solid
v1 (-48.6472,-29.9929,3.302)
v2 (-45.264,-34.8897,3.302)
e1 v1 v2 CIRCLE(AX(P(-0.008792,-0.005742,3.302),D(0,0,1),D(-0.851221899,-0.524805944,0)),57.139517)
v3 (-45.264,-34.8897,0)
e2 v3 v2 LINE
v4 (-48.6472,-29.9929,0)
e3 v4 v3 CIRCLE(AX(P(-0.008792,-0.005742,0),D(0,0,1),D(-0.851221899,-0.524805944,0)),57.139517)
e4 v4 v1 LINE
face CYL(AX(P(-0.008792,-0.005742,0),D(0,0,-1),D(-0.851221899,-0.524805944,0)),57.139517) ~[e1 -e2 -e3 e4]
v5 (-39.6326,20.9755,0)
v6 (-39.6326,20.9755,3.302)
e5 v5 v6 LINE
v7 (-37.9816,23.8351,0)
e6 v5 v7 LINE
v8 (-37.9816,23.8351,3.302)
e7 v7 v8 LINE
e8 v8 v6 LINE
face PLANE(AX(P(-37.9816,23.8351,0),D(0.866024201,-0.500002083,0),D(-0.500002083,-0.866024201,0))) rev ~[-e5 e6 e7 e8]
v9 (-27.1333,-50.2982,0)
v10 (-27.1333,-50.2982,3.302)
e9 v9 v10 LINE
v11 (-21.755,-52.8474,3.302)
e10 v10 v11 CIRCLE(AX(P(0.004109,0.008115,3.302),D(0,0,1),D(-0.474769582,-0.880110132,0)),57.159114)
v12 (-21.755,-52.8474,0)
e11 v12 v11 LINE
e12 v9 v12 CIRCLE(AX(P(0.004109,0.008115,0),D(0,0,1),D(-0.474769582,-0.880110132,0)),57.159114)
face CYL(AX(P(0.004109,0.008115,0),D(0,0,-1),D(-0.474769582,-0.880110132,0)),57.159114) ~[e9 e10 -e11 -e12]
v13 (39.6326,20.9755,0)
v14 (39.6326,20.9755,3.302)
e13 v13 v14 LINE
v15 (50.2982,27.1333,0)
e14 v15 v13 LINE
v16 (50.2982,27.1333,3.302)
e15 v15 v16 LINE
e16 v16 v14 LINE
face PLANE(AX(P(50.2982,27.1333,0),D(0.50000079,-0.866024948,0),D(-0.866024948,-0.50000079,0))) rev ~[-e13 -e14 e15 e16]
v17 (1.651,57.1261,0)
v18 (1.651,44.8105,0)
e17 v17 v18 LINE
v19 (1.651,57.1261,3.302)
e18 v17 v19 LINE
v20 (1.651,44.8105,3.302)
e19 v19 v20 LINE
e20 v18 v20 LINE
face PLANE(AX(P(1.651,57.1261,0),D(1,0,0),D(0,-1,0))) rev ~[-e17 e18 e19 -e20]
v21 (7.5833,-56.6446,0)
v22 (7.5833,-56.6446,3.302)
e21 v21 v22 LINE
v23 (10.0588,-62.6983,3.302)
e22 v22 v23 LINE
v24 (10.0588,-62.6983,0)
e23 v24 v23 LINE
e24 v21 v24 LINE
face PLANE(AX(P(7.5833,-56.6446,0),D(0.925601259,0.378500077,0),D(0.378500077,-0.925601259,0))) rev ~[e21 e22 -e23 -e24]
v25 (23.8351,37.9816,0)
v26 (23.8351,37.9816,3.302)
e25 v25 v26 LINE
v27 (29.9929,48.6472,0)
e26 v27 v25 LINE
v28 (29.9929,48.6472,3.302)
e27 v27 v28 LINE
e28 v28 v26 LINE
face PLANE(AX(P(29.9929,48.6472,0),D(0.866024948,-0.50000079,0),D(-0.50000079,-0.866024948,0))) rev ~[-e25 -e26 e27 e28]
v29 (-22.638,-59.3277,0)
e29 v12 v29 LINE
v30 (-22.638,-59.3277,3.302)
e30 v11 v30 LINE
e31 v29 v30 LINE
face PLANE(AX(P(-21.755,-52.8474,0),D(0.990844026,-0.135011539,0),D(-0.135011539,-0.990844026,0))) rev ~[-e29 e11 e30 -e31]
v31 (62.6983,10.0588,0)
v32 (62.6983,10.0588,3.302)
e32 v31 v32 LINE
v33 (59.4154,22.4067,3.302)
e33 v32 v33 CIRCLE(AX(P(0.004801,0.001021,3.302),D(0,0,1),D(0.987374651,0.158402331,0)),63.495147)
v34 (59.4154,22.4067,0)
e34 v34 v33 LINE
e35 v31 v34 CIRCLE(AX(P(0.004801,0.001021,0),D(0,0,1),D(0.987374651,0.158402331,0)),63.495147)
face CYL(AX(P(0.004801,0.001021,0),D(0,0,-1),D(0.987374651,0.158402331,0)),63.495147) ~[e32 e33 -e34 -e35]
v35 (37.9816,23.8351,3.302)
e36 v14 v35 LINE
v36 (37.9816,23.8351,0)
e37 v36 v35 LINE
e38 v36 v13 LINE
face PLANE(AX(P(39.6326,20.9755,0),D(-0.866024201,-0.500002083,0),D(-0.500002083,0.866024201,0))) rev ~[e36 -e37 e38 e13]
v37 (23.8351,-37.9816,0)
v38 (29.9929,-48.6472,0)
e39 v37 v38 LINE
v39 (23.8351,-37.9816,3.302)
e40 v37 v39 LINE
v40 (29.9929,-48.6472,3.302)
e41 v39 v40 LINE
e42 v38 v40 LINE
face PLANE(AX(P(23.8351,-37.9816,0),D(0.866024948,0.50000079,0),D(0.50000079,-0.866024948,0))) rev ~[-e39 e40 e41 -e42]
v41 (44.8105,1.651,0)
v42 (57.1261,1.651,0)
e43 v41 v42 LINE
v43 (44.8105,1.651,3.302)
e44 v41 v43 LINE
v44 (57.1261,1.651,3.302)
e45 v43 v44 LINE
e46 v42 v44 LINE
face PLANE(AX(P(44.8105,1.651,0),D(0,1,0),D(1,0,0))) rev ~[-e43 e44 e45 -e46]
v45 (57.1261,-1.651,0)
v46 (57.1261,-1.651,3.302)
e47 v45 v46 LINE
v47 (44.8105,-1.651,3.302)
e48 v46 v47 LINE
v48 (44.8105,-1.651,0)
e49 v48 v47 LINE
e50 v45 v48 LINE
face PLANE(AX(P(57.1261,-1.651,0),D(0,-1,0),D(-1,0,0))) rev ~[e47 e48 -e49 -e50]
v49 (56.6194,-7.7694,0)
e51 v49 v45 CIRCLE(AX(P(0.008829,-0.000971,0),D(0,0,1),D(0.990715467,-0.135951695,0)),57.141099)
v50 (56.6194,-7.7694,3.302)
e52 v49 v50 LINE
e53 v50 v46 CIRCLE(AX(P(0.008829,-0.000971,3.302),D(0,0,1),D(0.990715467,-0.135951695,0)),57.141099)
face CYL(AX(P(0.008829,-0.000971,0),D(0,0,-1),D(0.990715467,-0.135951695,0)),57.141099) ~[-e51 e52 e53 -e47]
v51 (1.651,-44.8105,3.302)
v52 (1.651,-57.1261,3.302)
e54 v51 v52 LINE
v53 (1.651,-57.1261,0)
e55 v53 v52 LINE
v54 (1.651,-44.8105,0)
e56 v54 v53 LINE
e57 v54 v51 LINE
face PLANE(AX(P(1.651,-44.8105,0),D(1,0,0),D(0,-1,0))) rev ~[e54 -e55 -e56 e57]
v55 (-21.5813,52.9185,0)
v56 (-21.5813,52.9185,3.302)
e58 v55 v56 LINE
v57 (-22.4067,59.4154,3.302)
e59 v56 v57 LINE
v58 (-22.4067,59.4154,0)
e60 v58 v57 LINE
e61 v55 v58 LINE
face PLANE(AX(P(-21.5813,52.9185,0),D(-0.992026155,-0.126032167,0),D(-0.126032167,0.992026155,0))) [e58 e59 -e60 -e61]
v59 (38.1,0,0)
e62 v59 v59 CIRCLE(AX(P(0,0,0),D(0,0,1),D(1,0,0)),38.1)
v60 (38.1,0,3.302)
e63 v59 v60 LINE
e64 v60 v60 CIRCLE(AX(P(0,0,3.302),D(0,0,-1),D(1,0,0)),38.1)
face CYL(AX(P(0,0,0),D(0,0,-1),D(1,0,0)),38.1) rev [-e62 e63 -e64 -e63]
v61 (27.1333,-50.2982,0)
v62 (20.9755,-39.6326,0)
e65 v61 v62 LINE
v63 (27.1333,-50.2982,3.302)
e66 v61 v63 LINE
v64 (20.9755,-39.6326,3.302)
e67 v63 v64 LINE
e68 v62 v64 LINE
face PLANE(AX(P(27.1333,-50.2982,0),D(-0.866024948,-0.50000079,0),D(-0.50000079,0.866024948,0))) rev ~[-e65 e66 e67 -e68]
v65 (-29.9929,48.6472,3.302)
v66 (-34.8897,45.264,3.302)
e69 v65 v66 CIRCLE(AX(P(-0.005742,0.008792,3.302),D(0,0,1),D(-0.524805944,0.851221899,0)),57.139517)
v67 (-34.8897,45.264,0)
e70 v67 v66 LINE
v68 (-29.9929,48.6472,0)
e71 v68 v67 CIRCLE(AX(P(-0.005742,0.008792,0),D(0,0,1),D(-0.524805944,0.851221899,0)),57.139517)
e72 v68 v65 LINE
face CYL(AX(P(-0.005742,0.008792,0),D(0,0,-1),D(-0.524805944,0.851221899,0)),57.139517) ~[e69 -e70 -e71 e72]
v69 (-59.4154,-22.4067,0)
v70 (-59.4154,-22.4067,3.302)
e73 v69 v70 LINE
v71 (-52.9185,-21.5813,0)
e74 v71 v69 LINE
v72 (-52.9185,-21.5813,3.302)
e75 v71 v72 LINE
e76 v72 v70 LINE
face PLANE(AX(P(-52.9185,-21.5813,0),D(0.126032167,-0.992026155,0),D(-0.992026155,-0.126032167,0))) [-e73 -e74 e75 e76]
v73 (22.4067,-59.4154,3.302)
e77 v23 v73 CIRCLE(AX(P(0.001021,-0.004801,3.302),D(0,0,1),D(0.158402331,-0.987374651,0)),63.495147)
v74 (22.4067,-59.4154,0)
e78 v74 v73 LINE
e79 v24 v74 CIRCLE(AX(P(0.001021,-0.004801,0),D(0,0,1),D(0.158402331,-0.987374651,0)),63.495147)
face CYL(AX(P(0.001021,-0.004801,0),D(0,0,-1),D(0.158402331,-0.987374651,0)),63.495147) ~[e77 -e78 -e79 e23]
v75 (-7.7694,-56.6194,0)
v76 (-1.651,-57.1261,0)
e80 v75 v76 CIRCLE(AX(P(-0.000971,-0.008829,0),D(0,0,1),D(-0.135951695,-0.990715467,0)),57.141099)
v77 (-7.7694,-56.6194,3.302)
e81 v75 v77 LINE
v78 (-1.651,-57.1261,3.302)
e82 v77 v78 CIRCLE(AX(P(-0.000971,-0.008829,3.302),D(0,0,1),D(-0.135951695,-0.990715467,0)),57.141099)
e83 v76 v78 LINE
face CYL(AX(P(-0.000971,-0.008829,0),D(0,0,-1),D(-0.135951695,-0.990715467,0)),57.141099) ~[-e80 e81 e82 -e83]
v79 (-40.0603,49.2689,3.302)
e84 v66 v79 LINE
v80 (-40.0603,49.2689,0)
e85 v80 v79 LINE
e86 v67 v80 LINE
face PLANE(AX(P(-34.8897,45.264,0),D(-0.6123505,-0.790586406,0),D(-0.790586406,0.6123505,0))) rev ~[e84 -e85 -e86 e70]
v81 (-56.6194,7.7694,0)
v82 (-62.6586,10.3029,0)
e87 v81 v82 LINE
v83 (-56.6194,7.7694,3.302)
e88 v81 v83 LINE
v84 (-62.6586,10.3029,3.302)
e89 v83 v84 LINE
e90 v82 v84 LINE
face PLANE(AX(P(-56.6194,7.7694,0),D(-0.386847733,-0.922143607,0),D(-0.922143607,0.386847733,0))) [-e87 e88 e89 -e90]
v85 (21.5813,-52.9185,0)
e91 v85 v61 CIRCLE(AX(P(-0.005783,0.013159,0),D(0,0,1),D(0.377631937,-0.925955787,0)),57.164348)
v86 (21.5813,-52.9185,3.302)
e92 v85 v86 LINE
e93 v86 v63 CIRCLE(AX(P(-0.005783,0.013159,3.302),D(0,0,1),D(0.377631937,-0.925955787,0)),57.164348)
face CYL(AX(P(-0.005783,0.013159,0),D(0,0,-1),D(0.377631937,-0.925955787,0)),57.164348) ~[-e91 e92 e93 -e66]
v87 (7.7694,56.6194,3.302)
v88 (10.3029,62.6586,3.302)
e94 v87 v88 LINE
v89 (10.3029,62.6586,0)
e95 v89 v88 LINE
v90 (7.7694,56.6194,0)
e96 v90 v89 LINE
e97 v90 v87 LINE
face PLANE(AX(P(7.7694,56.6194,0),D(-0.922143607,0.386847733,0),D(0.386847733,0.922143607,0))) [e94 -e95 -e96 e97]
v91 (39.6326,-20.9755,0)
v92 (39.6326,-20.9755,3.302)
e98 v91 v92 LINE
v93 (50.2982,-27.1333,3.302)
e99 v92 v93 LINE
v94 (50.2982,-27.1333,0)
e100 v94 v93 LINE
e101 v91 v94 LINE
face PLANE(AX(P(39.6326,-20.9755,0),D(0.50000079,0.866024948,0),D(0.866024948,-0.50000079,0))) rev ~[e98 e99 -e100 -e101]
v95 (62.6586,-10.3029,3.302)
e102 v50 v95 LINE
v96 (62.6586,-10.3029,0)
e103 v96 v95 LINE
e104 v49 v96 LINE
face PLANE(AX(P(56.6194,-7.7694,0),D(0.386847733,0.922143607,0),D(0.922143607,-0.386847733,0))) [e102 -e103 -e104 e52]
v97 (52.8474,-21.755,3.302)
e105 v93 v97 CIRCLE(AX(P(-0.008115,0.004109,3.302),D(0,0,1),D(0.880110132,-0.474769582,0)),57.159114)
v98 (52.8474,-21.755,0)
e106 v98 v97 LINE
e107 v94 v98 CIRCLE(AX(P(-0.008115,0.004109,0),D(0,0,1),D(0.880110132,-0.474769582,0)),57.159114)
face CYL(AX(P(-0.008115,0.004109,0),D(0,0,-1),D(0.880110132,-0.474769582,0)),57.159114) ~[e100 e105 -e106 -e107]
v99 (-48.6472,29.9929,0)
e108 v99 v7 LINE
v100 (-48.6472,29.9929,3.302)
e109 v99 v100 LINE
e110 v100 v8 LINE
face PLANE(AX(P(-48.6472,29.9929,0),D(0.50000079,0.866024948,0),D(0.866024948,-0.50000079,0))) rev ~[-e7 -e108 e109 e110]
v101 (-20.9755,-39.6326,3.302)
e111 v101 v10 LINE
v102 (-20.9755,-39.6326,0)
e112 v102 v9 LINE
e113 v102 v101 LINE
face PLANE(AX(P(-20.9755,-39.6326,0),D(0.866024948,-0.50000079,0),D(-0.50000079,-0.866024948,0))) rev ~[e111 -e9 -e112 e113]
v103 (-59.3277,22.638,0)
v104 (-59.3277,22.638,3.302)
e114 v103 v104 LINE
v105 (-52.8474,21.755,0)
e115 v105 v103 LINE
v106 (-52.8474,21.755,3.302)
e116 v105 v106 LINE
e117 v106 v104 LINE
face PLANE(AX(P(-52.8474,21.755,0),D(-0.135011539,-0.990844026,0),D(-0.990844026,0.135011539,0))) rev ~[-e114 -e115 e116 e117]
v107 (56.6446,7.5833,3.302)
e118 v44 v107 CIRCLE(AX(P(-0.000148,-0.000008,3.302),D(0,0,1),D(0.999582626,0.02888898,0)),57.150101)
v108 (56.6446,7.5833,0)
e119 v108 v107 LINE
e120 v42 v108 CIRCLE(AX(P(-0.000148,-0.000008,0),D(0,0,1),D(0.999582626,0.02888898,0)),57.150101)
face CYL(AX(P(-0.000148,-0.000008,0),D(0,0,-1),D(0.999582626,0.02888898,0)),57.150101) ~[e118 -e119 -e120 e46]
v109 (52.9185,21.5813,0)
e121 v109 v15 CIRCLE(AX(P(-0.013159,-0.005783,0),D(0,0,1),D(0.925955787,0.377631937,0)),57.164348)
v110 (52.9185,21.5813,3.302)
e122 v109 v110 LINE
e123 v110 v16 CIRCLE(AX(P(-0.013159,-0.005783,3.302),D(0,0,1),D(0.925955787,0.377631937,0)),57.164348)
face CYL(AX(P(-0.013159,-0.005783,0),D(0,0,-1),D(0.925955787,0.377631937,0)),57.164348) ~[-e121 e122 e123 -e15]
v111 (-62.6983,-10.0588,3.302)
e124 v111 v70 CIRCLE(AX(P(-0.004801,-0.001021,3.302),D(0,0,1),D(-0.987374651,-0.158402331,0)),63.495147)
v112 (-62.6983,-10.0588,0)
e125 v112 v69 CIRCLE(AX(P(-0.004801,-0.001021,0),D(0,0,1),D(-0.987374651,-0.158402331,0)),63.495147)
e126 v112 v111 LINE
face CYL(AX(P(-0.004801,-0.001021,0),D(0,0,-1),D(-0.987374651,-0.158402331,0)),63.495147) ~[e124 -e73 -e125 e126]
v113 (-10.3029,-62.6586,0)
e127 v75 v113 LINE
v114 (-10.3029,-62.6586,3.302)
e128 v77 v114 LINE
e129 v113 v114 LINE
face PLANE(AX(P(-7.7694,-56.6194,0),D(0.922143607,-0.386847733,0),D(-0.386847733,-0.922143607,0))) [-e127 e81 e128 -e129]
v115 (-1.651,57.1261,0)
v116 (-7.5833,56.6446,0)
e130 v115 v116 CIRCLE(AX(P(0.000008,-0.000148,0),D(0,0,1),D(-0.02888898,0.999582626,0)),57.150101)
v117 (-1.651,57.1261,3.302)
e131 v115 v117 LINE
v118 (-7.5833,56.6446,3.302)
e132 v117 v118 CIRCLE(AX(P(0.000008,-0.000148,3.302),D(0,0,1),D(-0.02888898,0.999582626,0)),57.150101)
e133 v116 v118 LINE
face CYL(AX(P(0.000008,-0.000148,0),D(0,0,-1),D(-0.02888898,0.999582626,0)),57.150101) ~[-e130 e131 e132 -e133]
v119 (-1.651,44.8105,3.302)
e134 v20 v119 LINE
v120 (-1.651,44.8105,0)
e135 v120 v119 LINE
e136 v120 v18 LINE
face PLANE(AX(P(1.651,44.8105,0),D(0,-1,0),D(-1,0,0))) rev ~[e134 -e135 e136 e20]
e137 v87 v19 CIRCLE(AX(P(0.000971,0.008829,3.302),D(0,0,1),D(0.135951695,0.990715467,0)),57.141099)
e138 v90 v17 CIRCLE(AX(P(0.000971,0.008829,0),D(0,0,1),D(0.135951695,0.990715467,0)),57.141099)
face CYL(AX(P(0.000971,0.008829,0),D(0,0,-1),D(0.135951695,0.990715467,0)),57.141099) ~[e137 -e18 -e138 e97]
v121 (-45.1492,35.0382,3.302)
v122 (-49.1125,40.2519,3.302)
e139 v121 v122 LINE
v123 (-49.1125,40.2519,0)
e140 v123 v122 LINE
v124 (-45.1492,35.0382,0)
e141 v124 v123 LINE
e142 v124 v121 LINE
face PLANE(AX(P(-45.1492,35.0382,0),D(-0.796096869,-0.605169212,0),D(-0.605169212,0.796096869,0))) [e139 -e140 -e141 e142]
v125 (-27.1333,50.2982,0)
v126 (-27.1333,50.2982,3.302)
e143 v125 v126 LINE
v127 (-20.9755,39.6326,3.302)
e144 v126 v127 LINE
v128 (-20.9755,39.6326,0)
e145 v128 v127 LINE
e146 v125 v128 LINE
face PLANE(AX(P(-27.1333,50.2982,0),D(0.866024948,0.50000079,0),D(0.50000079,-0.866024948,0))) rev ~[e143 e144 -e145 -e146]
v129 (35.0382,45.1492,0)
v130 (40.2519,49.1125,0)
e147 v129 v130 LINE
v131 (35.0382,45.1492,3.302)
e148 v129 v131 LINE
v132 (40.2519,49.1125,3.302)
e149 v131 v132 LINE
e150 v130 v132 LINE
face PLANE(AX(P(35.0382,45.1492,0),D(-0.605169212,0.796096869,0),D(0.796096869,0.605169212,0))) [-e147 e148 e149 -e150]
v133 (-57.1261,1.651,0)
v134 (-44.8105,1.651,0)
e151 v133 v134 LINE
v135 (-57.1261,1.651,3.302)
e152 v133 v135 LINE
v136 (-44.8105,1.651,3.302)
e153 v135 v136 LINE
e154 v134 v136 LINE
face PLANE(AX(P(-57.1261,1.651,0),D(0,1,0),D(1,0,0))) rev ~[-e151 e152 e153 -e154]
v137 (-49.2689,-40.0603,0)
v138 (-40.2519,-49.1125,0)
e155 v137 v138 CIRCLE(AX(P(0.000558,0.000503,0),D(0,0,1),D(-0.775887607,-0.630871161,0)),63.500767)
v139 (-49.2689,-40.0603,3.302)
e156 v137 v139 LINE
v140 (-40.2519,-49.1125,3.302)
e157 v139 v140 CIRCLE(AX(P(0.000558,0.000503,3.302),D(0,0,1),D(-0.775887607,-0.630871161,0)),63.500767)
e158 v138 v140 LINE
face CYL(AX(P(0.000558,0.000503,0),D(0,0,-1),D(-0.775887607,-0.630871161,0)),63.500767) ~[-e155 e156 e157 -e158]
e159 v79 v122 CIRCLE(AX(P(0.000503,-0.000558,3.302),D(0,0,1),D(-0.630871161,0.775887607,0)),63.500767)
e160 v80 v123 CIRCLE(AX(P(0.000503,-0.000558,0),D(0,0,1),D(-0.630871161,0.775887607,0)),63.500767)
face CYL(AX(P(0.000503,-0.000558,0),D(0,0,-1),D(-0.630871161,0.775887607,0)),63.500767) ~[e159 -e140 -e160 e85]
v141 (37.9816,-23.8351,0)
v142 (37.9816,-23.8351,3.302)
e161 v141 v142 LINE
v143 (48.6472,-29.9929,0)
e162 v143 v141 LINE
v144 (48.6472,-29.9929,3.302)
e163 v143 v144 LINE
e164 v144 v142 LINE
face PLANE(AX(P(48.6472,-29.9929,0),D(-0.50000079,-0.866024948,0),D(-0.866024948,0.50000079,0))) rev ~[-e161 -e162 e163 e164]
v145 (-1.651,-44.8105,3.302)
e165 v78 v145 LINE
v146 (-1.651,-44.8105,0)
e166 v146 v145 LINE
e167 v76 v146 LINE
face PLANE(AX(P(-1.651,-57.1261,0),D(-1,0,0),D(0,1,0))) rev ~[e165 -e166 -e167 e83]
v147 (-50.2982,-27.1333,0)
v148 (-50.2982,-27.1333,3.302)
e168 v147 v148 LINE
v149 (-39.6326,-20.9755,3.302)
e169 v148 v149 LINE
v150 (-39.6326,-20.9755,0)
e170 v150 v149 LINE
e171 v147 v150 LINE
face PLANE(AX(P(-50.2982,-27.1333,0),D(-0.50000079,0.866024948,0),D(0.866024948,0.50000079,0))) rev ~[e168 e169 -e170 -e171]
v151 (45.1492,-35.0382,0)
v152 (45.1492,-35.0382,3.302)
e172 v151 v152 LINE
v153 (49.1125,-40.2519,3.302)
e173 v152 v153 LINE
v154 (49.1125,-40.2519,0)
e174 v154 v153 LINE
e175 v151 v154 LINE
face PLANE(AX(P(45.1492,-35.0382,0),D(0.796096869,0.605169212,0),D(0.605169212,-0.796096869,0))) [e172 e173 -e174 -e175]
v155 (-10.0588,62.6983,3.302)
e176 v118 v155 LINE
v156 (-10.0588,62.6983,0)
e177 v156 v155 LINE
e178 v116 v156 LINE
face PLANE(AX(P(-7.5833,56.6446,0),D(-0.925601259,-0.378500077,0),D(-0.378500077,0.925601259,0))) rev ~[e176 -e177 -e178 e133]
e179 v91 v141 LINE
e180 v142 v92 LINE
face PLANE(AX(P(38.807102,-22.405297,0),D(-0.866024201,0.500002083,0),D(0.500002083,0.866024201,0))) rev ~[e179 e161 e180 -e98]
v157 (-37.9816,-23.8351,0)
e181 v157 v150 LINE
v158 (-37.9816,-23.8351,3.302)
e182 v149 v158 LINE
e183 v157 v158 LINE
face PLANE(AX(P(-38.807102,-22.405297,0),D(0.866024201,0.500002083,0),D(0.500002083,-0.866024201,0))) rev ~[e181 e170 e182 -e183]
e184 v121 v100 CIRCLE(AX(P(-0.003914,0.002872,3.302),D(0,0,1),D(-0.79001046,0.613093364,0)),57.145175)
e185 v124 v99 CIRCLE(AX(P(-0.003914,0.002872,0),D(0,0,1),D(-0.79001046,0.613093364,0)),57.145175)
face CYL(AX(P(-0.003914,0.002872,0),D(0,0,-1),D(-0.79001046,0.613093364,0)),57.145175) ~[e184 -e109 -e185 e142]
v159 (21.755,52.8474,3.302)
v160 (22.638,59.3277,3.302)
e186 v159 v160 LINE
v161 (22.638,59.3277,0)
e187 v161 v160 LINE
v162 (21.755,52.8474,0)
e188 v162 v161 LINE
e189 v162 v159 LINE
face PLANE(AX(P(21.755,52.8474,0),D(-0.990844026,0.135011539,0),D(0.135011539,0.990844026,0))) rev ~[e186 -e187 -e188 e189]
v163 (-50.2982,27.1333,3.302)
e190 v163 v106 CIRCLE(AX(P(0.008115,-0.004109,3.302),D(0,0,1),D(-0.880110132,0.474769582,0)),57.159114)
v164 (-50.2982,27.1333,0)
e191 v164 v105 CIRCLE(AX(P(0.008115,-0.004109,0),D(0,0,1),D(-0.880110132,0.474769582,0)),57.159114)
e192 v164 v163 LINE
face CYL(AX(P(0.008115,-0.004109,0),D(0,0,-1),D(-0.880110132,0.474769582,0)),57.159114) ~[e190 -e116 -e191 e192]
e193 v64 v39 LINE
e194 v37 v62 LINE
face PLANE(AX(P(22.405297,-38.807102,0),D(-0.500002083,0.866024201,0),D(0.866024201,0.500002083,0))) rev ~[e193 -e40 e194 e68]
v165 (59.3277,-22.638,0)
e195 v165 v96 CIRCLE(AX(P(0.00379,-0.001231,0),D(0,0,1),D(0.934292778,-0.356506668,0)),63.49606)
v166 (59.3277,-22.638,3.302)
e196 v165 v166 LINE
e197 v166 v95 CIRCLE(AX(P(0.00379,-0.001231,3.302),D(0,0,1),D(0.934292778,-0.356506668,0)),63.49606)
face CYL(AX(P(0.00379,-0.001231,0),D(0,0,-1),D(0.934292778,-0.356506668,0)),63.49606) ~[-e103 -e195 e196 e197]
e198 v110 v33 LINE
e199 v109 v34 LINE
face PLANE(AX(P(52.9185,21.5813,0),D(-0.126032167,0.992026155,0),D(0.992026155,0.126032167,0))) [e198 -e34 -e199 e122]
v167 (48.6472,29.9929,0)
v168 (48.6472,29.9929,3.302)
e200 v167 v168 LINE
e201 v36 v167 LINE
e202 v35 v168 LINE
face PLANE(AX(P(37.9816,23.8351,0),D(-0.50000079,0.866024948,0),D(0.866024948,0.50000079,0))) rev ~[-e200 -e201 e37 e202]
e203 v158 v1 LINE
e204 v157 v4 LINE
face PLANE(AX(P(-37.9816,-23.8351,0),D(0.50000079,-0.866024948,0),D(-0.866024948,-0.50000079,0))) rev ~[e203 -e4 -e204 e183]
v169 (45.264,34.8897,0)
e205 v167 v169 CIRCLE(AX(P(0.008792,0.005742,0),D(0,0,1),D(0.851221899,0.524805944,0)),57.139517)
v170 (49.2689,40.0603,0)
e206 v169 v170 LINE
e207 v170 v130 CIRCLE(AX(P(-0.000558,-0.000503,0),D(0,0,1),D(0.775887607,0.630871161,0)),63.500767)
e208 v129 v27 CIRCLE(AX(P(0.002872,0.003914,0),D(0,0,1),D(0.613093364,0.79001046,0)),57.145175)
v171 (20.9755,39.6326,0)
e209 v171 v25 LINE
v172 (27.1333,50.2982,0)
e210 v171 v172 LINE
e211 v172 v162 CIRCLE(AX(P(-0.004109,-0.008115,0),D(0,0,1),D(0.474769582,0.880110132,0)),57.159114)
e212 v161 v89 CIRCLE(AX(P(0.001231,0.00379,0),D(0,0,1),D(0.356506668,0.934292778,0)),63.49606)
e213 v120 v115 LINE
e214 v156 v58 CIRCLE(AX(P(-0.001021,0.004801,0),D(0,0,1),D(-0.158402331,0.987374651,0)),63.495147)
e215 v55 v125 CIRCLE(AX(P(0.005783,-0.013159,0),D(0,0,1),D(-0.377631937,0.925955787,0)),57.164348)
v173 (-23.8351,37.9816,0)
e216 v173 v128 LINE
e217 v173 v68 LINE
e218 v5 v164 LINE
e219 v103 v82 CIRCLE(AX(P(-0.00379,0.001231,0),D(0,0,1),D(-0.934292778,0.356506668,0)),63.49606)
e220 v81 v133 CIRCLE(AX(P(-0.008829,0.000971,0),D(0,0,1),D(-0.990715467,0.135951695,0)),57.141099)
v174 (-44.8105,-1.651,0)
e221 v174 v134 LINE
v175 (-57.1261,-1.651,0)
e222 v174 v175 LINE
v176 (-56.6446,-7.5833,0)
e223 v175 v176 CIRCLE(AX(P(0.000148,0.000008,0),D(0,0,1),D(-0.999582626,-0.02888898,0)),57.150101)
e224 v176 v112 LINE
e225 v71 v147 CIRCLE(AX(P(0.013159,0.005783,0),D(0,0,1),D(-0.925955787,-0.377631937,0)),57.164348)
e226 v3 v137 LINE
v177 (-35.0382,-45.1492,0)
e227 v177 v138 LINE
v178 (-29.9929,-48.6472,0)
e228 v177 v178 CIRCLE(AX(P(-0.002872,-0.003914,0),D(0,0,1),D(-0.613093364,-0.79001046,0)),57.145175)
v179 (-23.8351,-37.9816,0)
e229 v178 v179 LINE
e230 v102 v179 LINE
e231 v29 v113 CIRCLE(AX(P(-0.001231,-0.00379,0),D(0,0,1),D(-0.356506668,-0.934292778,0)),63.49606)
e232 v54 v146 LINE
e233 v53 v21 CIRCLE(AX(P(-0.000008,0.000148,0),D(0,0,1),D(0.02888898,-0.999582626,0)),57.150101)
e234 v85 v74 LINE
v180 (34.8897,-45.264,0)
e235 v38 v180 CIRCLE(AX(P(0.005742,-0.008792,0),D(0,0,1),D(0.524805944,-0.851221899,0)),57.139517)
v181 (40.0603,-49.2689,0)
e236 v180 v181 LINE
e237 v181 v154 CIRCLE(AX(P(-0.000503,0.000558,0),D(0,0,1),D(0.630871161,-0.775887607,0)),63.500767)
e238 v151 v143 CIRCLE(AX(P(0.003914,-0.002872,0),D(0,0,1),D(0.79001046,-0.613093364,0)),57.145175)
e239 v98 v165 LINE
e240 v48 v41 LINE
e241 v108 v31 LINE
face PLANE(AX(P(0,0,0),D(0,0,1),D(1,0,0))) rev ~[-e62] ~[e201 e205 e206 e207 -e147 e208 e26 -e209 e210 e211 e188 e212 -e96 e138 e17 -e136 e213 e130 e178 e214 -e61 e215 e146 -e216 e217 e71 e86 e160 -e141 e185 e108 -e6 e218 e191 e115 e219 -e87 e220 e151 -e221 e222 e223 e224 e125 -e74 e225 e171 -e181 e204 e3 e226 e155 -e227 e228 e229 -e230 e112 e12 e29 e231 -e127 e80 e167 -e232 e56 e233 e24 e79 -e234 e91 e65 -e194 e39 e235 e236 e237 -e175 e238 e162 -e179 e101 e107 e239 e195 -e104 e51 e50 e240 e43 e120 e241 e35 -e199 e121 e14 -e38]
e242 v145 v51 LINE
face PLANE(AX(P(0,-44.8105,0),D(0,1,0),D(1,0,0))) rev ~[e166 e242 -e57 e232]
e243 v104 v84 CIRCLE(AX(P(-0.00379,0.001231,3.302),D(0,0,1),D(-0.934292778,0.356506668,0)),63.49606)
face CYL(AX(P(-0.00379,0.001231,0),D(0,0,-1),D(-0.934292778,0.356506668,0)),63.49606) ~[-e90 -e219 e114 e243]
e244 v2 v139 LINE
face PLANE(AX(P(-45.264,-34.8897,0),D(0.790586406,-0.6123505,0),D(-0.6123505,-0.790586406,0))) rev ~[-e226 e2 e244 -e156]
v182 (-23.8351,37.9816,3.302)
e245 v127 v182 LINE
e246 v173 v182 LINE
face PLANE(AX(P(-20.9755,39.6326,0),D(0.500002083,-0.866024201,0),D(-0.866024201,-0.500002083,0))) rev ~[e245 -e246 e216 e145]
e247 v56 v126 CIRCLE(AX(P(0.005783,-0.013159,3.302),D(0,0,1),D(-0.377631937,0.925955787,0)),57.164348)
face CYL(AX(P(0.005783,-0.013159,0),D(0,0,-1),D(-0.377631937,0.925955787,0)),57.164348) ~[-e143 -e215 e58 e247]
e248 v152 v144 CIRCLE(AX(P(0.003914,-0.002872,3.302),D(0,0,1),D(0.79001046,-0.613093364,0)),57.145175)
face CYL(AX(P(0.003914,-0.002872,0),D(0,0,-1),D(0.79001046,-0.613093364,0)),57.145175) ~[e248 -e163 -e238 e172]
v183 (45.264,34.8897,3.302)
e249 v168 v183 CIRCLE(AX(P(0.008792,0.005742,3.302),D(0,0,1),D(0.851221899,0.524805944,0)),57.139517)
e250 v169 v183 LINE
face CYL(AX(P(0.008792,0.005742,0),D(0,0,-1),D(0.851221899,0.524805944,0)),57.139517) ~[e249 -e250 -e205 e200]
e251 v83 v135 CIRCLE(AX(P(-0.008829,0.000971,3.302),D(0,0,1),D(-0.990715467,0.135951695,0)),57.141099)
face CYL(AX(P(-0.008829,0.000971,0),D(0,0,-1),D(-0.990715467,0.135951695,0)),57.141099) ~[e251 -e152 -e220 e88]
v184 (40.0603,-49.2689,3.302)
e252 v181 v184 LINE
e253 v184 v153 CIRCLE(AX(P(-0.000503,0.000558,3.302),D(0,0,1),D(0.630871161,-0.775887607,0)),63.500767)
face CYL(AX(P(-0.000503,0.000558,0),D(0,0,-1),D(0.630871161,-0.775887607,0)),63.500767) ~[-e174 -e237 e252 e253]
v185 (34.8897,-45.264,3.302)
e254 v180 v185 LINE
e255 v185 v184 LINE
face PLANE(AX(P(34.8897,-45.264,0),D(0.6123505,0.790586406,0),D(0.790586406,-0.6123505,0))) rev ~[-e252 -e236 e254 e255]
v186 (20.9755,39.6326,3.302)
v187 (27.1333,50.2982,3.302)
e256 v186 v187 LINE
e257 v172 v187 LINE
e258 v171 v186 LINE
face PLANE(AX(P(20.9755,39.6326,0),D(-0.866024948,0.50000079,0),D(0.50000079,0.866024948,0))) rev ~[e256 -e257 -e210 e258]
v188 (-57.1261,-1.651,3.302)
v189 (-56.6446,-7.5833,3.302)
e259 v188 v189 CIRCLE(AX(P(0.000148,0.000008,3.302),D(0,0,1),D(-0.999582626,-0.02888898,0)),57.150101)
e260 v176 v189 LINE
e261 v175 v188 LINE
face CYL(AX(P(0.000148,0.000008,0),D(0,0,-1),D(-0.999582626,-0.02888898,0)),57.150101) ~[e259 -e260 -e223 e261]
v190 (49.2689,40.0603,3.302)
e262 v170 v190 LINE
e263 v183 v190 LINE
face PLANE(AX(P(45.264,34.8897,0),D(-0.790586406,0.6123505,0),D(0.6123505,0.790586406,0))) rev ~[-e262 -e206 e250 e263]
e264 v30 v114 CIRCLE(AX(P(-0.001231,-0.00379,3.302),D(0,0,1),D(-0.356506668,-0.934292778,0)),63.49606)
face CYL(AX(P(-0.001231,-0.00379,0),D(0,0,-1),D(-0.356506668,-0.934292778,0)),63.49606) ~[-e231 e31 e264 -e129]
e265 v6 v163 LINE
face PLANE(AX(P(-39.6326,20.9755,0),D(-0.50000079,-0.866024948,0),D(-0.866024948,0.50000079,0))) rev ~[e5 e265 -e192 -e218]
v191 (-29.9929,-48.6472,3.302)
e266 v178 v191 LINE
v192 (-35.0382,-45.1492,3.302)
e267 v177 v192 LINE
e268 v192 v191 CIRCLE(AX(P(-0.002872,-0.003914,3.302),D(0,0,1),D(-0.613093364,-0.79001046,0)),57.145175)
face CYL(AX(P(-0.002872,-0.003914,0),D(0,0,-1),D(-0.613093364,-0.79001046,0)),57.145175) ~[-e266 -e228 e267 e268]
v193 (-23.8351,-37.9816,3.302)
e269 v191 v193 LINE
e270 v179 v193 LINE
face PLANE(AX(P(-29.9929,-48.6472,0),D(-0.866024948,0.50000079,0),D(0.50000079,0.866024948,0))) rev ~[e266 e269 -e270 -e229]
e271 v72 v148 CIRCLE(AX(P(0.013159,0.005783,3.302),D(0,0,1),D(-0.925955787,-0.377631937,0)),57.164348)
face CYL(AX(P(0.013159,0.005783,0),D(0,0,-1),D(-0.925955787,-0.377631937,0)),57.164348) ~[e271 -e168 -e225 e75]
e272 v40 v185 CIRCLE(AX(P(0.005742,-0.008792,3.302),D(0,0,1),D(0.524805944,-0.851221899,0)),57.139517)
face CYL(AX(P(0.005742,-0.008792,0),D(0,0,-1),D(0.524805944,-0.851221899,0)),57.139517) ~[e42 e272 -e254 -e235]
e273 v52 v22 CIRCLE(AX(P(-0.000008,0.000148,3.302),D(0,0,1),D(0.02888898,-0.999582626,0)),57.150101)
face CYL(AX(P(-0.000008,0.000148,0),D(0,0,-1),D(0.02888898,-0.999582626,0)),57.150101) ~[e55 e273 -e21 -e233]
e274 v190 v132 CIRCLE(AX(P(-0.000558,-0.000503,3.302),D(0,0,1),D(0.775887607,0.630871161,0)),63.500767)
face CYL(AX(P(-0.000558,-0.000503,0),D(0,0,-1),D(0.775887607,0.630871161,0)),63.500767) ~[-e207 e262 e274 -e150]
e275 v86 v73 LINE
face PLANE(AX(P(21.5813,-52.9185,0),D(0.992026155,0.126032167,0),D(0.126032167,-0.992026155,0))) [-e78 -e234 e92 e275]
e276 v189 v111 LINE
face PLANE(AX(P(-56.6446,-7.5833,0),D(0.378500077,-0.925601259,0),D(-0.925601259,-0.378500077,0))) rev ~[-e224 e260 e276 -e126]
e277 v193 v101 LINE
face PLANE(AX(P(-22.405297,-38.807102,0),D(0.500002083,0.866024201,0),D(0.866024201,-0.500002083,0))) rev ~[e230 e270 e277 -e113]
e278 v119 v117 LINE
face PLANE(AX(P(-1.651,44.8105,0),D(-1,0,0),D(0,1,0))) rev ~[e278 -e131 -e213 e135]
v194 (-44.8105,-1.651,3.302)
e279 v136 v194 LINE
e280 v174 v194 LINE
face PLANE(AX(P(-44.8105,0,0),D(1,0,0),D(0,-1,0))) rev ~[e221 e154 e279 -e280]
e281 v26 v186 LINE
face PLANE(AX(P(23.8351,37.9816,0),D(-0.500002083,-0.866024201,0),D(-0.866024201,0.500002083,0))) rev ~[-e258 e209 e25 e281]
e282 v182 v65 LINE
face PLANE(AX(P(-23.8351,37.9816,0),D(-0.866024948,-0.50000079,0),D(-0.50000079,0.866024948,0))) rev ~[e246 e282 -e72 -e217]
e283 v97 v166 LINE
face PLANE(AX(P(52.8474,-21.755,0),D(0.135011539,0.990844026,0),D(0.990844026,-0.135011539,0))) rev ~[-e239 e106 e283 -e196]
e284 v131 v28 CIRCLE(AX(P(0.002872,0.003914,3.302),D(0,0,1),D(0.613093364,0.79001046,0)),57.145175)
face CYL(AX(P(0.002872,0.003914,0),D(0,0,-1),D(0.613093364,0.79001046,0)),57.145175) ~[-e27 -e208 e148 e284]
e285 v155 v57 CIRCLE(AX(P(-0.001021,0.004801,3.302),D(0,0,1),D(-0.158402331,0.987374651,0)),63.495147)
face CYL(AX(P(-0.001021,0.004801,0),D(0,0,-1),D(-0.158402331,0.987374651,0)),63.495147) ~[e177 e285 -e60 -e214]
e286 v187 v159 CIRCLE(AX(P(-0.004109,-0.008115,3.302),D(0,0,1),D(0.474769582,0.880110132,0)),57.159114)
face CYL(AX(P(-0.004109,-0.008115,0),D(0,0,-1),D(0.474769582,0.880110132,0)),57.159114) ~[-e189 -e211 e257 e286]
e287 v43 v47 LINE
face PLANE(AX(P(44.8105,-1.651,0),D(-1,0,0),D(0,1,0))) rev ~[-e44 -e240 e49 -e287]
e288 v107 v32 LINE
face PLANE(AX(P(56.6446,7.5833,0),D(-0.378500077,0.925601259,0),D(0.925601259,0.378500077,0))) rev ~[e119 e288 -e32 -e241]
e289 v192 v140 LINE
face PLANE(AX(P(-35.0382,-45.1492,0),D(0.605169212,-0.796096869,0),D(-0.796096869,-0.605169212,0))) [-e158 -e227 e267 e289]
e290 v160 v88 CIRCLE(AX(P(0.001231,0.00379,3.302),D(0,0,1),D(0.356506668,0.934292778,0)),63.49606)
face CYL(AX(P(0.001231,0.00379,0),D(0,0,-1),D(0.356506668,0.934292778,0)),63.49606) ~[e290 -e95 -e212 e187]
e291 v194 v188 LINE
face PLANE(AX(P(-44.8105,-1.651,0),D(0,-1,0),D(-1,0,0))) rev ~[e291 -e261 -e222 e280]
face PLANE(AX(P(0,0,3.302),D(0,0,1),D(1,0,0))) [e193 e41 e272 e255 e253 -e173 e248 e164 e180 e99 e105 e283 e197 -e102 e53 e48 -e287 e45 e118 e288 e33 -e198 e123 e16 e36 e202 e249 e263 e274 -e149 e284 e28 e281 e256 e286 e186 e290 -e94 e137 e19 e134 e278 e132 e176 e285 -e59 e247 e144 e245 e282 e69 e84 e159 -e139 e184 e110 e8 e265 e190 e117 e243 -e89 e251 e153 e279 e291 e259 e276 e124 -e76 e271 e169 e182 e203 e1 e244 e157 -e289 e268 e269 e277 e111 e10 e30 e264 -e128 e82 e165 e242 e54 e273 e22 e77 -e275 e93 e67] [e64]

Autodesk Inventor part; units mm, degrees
ref_plane "YZ Plane" through (0, 0, 0) normal (1, 0, 0) x (0, 1, 0)
ref_plane "XZ Plane" through (0, 0, 0) normal (0, 1, 0) x (-1, 0, 0)
ref_plane "XY Plane" through (0, 0, 0) normal (0, 0, 1) x (1, 0, 0)
sketch "Sketch1" plane through (0, 0, 0) normal (0, 0, 1) x (1, 0, 0)
  circle A0 centre (0, 0) radius 38.1
  line L0 (1.651, 44.8105) -> (-1.651, 44.8105)
  line L1 (7.7694, 56.6194) -> (10.3029, 62.6586)
  line L2 (-7.5833, 56.6446) -> (-10.0588, 62.6983)
  line L3 (1.651, 57.1261) -> (1.651, 44.8105)
  line L4 (-1.651, 44.8105) -> (-1.651, 57.1261)
  arc A1 (-1.651, 57.1261) -> (-7.5833, 56.6446) centre (0, 0) ccw
  arc A2 (7.7694, 56.6194) -> (1.651, 57.1261) centre (0, 0) ccw
  line L5 (0, 0) -> (0, 48.7919)
  line L6 (-20.9755, 39.6326) -> (-23.8351, 37.9816)
  line L7 (-21.5813, 52.9185) -> (-22.4067, 59.4154)
  line L8 (-34.8897, 45.264) -> (-40.0603, 49.2689)
  line L9 (-27.1333, 50.2982) -> (-20.9755, 39.6326)
  line L10 (-23.8351, 37.9816) -> (-29.9929, 48.6472)
  arc A3 (-29.9929, 48.6472) -> (-34.8897, 45.264) centre (0, 0) ccw
  arc A4 (-21.5813, 52.9185) -> (-27.1333, 50.2982) centre (0, 0) ccw
  line L11 (0, 0) -> (-24.396, 42.2551)
  line L12 (-37.9816, 23.8351) -> (-39.6326, 20.9755)
  line L13 (-45.1492, 35.0382) -> (-49.1125, 40.2519)
  line L14 (-52.8474, 21.755) -> (-59.3277, 22.638)
  line L15 (-48.6472, 29.9929) -> (-37.9816, 23.8351)
  line L16 (-39.6326, 20.9755) -> (-50.2982, 27.1333)
  arc A5 (-50.2982, 27.1333) -> (-52.8474, 21.755) centre (0, 0) ccw
  arc A6 (-45.1492, 35.0382) -> (-48.6472, 29.9929) centre (0, 0) ccw
  line L17 (0, 0) -> (-42.2551, 24.396)
  line L18 (-44.8105, 1.651) -> (-44.8105, -1.651)
  line L19 (-56.6194, 7.7694) -> (-62.6586, 10.3029)
  line L20 (-56.6446, -7.5833) -> (-62.6983, -10.0588)
  line L21 (-57.1261, 1.651) -> (-44.8105, 1.651)
  line L22 (-44.8105, -1.651) -> (-57.1261, -1.651)
  arc A7 (-57.1261, -1.651) -> (-56.6446, -7.5833) centre (0, 0) ccw
  arc A8 (-56.6194, 7.7694) -> (-57.1261, 1.651) centre (0, 0) ccw
  line L23 (0, 0) -> (-48.7919, 0)
  line L24 (-39.6326, -20.9755) -> (-37.9816, -23.8351)
  line L25 (-52.9185, -21.5813) -> (-59.4154, -22.4067)
  line L26 (-45.264, -34.8897) -> (-49.2689, -40.0603)
  line L27 (-50.2982, -27.1333) -> (-39.6326, -20.9755)
  line L28 (-37.9816, -23.8351) -> (-48.6472, -29.9929)
  arc A9 (-48.6472, -29.9929) -> (-45.264, -34.8897) centre (0, 0) ccw
  arc A10 (-52.9185, -21.5813) -> (-50.2982, -27.1333) centre (0, 0) ccw
  line L29 (0, 0) -> (-42.2551, -24.396)
  line L30 (-23.8351, -37.9816) -> (-20.9755, -39.6326)
  line L31 (-35.0382, -45.1492) -> (-40.2519, -49.1125)
  line L32 (-21.755, -52.8474) -> (-22.638, -59.3277)
  line L33 (-29.9929, -48.6472) -> (-23.8351, -37.9816)
  line L34 (-20.9755, -39.6326) -> (-27.1333, -50.2982)
  arc A11 (-27.1333, -50.2982) -> (-21.755, -52.8474) centre (0, 0) ccw
  arc A12 (-35.0382, -45.1492) -> (-29.9929, -48.6472) centre (0, 0) ccw
  line L35 (0, 0) -> (-24.396, -42.2551)
  line L36 (-1.651, -44.8105) -> (1.651, -44.8105)
  line L37 (-7.7694, -56.6194) -> (-10.3029, -62.6586)
  line L38 (7.5833, -56.6446) -> (10.0588, -62.6983)
  line L39 (-1.651, -57.1261) -> (-1.651, -44.8105)
  line L40 (1.651, -44.8105) -> (1.651, -57.1261)
  arc A13 (1.651, -57.1261) -> (7.5833, -56.6446) centre (0, 0) ccw
  arc A14 (-7.7694, -56.6194) -> (-1.651, -57.1261) centre (0, 0) ccw
  line L41 (0, 0) -> (0, -48.7919)
  line L42 (20.9755, -39.6326) -> (23.8351, -37.9816)
  line L43 (21.5813, -52.9185) -> (22.4067, -59.4154)
  line L44 (34.8897, -45.264) -> (40.0603, -49.2689)
  line L45 (27.1333, -50.2982) -> (20.9755, -39.6326)
  line L46 (23.8351, -37.9816) -> (29.9929, -48.6472)
  arc A15 (29.9929, -48.6472) -> (34.8897, -45.264) centre (0, 0) ccw
  arc A16 (21.5813, -52.9185) -> (27.1333, -50.2982) centre (0, 0) ccw
  line L47 (0, 0) -> (24.396, -42.2551)
  line L48 (37.9816, -23.8351) -> (39.6326, -20.9755)
  line L49 (45.1492, -35.0382) -> (49.1125, -40.2519)
  line L50 (52.8474, -21.755) -> (59.3277, -22.638)
  line L51 (48.6472, -29.9929) -> (37.9816, -23.8351)
  line L52 (39.6326, -20.9755) -> (50.2982, -27.1333)
  arc A17 (50.2982, -27.1333) -> (52.8474, -21.755) centre (0, 0) ccw
  arc A18 (45.1492, -35.0382) -> (48.6472, -29.9929) centre (0, 0) ccw
  line L53 (0, 0) -> (42.2551, -24.396)
  line L54 (44.8105, -1.651) -> (44.8105, 1.651)
  line L55 (56.6194, -7.7694) -> (62.6586, -10.3029)
  line L56 (56.6446, 7.5833) -> (62.6983, 10.0588)
  line L57 (57.1261, -1.651) -> (44.8105, -1.651)
  line L58 (44.8105, 1.651) -> (57.1261, 1.651)
  arc A19 (57.1261, 1.651) -> (56.6446, 7.5833) centre (0, 0) ccw
  arc A20 (56.6194, -7.7694) -> (57.1261, -1.651) centre (0, 0) ccw
  line L59 (0, 0) -> (48.7919, 0)
  line L60 (39.6326, 20.9755) -> (37.9816, 23.8351)
  line L61 (52.9185, 21.5813) -> (59.4154, 22.4067)
  line L62 (45.264, 34.8897) -> (49.2689, 40.0603)
  line L63 (50.2982, 27.1333) -> (39.6326, 20.9755)
  line L64 (37.9816, 23.8351) -> (48.6472, 29.9929)
  arc A21 (48.6472, 29.9929) -> (45.264, 34.8897) centre (0, 0) ccw
  arc A22 (52.9185, 21.5813) -> (50.2982, 27.1333) centre (0, 0) ccw
  line L65 (0, 0) -> (42.2551, 24.396)
  line L66 (23.8351, 37.9816) -> (20.9755, 39.6326)
  line L67 (35.0382, 45.1492) -> (40.2519, 49.1125)
  line L68 (21.755, 52.8474) -> (22.638, 59.3277)
  line L69 (29.9929, 48.6472) -> (23.8351, 37.9816)
  line L70 (20.9755, 39.6326) -> (27.1333, 50.2982)
  arc A23 (27.1333, 50.2982) -> (21.755, 52.8474) centre (0, 0) ccw
  arc A24 (35.0382, 45.1492) -> (29.9929, 48.6472) centre (0, 0) ccw
  line L71 (0, 0) -> (24.396, 42.2551)
  arc A25 (22.638, 59.3277) -> (10.3029, 62.6586) centre (0, 0) ccw
  arc A26 (49.2689, 40.0603) -> (40.2519, 49.1125) centre (0, 0) ccw
  arc A27 (62.6983, 10.0588) -> (59.4154, 22.4067) centre (0, 0) ccw
  arc A28 (59.3277, -22.638) -> (62.6586, -10.3029) centre (0, 0) ccw
  arc A29 (40.0603, -49.2689) -> (49.1125, -40.2519) centre (0, 0) ccw
  arc A30 (10.0588, -62.6983) -> (22.4067, -59.4154) centre (0, 0) ccw
  arc A31 (-22.638, -59.3277) -> (-10.3029, -62.6586) centre (0, 0) ccw
  arc A32 (-49.2689, -40.0603) -> (-40.2519, -49.1125) centre (0, 0) ccw
  arc A33 (-62.6983, -10.0588) -> (-59.4154, -22.4067) centre (0, 0) ccw
  arc A34 (-59.3277, 22.638) -> (-62.6586, 10.3029) centre (0, 0) ccw
  arc A35 (-10.0588, 62.6983) -> (-22.4067, 59.4154) centre (0, 0) ccw
  arc A36 (-40.0603, 49.2689) -> (-49.1125, 40.2519) centre (0, 0) ccw
  dimension "d2" = 76.2
  dimension "d4" = 45
  dimension "d5" = 3.302
  dimension "d8" = 1.651
  dimension "d11" = 360
extrude "Extrusion2" add sketch "Sketch1" along normal blind 3.302 contours L59 L54 L57 A20 L55 A28 L50 A17 L52 L48 L53 A0 | A0 L65 L60 L63 A22 L61 A27 L56 A19 L58 L54 L59 | A0 L71 L66 L69 A24 L67 A26 L62 A21 L64 L60 L65 | L53 L48 L51 A18 L49 A29 L44 A15 L46 L42 L47 A0 | A0 L5 L0 L3 A2 L1 A25 L68 A23 L70 L66 L71 | L47 L42 L45 A16 L43 A30 L38 A13 L40 L36 L41 A0 | A0 L11 L6 L9 A4 L7 A35 L2 A1 L4 L0 L5 | A0 L17 L12 L15 A6 L13 A36 L8 A3 L10 L6 L11 | A0 L23 L18 L21 A8 L19 A34 L14 A5 L16 L12 L17 | A0 L29 L24 L27 A10 L25 A33 L20 A7 L22 L18 L23 | A0 L35 L30 L33 A12 L31 A32 L26 A9 L28 L24 L29 | A0 L41 L36 L39 A14 L37 A31 L32 A11 L34 L30 L35
equation "\"d8\" = 0.5 * d5"
equation "\"d13\" = d5"
properties part number "gears big"
